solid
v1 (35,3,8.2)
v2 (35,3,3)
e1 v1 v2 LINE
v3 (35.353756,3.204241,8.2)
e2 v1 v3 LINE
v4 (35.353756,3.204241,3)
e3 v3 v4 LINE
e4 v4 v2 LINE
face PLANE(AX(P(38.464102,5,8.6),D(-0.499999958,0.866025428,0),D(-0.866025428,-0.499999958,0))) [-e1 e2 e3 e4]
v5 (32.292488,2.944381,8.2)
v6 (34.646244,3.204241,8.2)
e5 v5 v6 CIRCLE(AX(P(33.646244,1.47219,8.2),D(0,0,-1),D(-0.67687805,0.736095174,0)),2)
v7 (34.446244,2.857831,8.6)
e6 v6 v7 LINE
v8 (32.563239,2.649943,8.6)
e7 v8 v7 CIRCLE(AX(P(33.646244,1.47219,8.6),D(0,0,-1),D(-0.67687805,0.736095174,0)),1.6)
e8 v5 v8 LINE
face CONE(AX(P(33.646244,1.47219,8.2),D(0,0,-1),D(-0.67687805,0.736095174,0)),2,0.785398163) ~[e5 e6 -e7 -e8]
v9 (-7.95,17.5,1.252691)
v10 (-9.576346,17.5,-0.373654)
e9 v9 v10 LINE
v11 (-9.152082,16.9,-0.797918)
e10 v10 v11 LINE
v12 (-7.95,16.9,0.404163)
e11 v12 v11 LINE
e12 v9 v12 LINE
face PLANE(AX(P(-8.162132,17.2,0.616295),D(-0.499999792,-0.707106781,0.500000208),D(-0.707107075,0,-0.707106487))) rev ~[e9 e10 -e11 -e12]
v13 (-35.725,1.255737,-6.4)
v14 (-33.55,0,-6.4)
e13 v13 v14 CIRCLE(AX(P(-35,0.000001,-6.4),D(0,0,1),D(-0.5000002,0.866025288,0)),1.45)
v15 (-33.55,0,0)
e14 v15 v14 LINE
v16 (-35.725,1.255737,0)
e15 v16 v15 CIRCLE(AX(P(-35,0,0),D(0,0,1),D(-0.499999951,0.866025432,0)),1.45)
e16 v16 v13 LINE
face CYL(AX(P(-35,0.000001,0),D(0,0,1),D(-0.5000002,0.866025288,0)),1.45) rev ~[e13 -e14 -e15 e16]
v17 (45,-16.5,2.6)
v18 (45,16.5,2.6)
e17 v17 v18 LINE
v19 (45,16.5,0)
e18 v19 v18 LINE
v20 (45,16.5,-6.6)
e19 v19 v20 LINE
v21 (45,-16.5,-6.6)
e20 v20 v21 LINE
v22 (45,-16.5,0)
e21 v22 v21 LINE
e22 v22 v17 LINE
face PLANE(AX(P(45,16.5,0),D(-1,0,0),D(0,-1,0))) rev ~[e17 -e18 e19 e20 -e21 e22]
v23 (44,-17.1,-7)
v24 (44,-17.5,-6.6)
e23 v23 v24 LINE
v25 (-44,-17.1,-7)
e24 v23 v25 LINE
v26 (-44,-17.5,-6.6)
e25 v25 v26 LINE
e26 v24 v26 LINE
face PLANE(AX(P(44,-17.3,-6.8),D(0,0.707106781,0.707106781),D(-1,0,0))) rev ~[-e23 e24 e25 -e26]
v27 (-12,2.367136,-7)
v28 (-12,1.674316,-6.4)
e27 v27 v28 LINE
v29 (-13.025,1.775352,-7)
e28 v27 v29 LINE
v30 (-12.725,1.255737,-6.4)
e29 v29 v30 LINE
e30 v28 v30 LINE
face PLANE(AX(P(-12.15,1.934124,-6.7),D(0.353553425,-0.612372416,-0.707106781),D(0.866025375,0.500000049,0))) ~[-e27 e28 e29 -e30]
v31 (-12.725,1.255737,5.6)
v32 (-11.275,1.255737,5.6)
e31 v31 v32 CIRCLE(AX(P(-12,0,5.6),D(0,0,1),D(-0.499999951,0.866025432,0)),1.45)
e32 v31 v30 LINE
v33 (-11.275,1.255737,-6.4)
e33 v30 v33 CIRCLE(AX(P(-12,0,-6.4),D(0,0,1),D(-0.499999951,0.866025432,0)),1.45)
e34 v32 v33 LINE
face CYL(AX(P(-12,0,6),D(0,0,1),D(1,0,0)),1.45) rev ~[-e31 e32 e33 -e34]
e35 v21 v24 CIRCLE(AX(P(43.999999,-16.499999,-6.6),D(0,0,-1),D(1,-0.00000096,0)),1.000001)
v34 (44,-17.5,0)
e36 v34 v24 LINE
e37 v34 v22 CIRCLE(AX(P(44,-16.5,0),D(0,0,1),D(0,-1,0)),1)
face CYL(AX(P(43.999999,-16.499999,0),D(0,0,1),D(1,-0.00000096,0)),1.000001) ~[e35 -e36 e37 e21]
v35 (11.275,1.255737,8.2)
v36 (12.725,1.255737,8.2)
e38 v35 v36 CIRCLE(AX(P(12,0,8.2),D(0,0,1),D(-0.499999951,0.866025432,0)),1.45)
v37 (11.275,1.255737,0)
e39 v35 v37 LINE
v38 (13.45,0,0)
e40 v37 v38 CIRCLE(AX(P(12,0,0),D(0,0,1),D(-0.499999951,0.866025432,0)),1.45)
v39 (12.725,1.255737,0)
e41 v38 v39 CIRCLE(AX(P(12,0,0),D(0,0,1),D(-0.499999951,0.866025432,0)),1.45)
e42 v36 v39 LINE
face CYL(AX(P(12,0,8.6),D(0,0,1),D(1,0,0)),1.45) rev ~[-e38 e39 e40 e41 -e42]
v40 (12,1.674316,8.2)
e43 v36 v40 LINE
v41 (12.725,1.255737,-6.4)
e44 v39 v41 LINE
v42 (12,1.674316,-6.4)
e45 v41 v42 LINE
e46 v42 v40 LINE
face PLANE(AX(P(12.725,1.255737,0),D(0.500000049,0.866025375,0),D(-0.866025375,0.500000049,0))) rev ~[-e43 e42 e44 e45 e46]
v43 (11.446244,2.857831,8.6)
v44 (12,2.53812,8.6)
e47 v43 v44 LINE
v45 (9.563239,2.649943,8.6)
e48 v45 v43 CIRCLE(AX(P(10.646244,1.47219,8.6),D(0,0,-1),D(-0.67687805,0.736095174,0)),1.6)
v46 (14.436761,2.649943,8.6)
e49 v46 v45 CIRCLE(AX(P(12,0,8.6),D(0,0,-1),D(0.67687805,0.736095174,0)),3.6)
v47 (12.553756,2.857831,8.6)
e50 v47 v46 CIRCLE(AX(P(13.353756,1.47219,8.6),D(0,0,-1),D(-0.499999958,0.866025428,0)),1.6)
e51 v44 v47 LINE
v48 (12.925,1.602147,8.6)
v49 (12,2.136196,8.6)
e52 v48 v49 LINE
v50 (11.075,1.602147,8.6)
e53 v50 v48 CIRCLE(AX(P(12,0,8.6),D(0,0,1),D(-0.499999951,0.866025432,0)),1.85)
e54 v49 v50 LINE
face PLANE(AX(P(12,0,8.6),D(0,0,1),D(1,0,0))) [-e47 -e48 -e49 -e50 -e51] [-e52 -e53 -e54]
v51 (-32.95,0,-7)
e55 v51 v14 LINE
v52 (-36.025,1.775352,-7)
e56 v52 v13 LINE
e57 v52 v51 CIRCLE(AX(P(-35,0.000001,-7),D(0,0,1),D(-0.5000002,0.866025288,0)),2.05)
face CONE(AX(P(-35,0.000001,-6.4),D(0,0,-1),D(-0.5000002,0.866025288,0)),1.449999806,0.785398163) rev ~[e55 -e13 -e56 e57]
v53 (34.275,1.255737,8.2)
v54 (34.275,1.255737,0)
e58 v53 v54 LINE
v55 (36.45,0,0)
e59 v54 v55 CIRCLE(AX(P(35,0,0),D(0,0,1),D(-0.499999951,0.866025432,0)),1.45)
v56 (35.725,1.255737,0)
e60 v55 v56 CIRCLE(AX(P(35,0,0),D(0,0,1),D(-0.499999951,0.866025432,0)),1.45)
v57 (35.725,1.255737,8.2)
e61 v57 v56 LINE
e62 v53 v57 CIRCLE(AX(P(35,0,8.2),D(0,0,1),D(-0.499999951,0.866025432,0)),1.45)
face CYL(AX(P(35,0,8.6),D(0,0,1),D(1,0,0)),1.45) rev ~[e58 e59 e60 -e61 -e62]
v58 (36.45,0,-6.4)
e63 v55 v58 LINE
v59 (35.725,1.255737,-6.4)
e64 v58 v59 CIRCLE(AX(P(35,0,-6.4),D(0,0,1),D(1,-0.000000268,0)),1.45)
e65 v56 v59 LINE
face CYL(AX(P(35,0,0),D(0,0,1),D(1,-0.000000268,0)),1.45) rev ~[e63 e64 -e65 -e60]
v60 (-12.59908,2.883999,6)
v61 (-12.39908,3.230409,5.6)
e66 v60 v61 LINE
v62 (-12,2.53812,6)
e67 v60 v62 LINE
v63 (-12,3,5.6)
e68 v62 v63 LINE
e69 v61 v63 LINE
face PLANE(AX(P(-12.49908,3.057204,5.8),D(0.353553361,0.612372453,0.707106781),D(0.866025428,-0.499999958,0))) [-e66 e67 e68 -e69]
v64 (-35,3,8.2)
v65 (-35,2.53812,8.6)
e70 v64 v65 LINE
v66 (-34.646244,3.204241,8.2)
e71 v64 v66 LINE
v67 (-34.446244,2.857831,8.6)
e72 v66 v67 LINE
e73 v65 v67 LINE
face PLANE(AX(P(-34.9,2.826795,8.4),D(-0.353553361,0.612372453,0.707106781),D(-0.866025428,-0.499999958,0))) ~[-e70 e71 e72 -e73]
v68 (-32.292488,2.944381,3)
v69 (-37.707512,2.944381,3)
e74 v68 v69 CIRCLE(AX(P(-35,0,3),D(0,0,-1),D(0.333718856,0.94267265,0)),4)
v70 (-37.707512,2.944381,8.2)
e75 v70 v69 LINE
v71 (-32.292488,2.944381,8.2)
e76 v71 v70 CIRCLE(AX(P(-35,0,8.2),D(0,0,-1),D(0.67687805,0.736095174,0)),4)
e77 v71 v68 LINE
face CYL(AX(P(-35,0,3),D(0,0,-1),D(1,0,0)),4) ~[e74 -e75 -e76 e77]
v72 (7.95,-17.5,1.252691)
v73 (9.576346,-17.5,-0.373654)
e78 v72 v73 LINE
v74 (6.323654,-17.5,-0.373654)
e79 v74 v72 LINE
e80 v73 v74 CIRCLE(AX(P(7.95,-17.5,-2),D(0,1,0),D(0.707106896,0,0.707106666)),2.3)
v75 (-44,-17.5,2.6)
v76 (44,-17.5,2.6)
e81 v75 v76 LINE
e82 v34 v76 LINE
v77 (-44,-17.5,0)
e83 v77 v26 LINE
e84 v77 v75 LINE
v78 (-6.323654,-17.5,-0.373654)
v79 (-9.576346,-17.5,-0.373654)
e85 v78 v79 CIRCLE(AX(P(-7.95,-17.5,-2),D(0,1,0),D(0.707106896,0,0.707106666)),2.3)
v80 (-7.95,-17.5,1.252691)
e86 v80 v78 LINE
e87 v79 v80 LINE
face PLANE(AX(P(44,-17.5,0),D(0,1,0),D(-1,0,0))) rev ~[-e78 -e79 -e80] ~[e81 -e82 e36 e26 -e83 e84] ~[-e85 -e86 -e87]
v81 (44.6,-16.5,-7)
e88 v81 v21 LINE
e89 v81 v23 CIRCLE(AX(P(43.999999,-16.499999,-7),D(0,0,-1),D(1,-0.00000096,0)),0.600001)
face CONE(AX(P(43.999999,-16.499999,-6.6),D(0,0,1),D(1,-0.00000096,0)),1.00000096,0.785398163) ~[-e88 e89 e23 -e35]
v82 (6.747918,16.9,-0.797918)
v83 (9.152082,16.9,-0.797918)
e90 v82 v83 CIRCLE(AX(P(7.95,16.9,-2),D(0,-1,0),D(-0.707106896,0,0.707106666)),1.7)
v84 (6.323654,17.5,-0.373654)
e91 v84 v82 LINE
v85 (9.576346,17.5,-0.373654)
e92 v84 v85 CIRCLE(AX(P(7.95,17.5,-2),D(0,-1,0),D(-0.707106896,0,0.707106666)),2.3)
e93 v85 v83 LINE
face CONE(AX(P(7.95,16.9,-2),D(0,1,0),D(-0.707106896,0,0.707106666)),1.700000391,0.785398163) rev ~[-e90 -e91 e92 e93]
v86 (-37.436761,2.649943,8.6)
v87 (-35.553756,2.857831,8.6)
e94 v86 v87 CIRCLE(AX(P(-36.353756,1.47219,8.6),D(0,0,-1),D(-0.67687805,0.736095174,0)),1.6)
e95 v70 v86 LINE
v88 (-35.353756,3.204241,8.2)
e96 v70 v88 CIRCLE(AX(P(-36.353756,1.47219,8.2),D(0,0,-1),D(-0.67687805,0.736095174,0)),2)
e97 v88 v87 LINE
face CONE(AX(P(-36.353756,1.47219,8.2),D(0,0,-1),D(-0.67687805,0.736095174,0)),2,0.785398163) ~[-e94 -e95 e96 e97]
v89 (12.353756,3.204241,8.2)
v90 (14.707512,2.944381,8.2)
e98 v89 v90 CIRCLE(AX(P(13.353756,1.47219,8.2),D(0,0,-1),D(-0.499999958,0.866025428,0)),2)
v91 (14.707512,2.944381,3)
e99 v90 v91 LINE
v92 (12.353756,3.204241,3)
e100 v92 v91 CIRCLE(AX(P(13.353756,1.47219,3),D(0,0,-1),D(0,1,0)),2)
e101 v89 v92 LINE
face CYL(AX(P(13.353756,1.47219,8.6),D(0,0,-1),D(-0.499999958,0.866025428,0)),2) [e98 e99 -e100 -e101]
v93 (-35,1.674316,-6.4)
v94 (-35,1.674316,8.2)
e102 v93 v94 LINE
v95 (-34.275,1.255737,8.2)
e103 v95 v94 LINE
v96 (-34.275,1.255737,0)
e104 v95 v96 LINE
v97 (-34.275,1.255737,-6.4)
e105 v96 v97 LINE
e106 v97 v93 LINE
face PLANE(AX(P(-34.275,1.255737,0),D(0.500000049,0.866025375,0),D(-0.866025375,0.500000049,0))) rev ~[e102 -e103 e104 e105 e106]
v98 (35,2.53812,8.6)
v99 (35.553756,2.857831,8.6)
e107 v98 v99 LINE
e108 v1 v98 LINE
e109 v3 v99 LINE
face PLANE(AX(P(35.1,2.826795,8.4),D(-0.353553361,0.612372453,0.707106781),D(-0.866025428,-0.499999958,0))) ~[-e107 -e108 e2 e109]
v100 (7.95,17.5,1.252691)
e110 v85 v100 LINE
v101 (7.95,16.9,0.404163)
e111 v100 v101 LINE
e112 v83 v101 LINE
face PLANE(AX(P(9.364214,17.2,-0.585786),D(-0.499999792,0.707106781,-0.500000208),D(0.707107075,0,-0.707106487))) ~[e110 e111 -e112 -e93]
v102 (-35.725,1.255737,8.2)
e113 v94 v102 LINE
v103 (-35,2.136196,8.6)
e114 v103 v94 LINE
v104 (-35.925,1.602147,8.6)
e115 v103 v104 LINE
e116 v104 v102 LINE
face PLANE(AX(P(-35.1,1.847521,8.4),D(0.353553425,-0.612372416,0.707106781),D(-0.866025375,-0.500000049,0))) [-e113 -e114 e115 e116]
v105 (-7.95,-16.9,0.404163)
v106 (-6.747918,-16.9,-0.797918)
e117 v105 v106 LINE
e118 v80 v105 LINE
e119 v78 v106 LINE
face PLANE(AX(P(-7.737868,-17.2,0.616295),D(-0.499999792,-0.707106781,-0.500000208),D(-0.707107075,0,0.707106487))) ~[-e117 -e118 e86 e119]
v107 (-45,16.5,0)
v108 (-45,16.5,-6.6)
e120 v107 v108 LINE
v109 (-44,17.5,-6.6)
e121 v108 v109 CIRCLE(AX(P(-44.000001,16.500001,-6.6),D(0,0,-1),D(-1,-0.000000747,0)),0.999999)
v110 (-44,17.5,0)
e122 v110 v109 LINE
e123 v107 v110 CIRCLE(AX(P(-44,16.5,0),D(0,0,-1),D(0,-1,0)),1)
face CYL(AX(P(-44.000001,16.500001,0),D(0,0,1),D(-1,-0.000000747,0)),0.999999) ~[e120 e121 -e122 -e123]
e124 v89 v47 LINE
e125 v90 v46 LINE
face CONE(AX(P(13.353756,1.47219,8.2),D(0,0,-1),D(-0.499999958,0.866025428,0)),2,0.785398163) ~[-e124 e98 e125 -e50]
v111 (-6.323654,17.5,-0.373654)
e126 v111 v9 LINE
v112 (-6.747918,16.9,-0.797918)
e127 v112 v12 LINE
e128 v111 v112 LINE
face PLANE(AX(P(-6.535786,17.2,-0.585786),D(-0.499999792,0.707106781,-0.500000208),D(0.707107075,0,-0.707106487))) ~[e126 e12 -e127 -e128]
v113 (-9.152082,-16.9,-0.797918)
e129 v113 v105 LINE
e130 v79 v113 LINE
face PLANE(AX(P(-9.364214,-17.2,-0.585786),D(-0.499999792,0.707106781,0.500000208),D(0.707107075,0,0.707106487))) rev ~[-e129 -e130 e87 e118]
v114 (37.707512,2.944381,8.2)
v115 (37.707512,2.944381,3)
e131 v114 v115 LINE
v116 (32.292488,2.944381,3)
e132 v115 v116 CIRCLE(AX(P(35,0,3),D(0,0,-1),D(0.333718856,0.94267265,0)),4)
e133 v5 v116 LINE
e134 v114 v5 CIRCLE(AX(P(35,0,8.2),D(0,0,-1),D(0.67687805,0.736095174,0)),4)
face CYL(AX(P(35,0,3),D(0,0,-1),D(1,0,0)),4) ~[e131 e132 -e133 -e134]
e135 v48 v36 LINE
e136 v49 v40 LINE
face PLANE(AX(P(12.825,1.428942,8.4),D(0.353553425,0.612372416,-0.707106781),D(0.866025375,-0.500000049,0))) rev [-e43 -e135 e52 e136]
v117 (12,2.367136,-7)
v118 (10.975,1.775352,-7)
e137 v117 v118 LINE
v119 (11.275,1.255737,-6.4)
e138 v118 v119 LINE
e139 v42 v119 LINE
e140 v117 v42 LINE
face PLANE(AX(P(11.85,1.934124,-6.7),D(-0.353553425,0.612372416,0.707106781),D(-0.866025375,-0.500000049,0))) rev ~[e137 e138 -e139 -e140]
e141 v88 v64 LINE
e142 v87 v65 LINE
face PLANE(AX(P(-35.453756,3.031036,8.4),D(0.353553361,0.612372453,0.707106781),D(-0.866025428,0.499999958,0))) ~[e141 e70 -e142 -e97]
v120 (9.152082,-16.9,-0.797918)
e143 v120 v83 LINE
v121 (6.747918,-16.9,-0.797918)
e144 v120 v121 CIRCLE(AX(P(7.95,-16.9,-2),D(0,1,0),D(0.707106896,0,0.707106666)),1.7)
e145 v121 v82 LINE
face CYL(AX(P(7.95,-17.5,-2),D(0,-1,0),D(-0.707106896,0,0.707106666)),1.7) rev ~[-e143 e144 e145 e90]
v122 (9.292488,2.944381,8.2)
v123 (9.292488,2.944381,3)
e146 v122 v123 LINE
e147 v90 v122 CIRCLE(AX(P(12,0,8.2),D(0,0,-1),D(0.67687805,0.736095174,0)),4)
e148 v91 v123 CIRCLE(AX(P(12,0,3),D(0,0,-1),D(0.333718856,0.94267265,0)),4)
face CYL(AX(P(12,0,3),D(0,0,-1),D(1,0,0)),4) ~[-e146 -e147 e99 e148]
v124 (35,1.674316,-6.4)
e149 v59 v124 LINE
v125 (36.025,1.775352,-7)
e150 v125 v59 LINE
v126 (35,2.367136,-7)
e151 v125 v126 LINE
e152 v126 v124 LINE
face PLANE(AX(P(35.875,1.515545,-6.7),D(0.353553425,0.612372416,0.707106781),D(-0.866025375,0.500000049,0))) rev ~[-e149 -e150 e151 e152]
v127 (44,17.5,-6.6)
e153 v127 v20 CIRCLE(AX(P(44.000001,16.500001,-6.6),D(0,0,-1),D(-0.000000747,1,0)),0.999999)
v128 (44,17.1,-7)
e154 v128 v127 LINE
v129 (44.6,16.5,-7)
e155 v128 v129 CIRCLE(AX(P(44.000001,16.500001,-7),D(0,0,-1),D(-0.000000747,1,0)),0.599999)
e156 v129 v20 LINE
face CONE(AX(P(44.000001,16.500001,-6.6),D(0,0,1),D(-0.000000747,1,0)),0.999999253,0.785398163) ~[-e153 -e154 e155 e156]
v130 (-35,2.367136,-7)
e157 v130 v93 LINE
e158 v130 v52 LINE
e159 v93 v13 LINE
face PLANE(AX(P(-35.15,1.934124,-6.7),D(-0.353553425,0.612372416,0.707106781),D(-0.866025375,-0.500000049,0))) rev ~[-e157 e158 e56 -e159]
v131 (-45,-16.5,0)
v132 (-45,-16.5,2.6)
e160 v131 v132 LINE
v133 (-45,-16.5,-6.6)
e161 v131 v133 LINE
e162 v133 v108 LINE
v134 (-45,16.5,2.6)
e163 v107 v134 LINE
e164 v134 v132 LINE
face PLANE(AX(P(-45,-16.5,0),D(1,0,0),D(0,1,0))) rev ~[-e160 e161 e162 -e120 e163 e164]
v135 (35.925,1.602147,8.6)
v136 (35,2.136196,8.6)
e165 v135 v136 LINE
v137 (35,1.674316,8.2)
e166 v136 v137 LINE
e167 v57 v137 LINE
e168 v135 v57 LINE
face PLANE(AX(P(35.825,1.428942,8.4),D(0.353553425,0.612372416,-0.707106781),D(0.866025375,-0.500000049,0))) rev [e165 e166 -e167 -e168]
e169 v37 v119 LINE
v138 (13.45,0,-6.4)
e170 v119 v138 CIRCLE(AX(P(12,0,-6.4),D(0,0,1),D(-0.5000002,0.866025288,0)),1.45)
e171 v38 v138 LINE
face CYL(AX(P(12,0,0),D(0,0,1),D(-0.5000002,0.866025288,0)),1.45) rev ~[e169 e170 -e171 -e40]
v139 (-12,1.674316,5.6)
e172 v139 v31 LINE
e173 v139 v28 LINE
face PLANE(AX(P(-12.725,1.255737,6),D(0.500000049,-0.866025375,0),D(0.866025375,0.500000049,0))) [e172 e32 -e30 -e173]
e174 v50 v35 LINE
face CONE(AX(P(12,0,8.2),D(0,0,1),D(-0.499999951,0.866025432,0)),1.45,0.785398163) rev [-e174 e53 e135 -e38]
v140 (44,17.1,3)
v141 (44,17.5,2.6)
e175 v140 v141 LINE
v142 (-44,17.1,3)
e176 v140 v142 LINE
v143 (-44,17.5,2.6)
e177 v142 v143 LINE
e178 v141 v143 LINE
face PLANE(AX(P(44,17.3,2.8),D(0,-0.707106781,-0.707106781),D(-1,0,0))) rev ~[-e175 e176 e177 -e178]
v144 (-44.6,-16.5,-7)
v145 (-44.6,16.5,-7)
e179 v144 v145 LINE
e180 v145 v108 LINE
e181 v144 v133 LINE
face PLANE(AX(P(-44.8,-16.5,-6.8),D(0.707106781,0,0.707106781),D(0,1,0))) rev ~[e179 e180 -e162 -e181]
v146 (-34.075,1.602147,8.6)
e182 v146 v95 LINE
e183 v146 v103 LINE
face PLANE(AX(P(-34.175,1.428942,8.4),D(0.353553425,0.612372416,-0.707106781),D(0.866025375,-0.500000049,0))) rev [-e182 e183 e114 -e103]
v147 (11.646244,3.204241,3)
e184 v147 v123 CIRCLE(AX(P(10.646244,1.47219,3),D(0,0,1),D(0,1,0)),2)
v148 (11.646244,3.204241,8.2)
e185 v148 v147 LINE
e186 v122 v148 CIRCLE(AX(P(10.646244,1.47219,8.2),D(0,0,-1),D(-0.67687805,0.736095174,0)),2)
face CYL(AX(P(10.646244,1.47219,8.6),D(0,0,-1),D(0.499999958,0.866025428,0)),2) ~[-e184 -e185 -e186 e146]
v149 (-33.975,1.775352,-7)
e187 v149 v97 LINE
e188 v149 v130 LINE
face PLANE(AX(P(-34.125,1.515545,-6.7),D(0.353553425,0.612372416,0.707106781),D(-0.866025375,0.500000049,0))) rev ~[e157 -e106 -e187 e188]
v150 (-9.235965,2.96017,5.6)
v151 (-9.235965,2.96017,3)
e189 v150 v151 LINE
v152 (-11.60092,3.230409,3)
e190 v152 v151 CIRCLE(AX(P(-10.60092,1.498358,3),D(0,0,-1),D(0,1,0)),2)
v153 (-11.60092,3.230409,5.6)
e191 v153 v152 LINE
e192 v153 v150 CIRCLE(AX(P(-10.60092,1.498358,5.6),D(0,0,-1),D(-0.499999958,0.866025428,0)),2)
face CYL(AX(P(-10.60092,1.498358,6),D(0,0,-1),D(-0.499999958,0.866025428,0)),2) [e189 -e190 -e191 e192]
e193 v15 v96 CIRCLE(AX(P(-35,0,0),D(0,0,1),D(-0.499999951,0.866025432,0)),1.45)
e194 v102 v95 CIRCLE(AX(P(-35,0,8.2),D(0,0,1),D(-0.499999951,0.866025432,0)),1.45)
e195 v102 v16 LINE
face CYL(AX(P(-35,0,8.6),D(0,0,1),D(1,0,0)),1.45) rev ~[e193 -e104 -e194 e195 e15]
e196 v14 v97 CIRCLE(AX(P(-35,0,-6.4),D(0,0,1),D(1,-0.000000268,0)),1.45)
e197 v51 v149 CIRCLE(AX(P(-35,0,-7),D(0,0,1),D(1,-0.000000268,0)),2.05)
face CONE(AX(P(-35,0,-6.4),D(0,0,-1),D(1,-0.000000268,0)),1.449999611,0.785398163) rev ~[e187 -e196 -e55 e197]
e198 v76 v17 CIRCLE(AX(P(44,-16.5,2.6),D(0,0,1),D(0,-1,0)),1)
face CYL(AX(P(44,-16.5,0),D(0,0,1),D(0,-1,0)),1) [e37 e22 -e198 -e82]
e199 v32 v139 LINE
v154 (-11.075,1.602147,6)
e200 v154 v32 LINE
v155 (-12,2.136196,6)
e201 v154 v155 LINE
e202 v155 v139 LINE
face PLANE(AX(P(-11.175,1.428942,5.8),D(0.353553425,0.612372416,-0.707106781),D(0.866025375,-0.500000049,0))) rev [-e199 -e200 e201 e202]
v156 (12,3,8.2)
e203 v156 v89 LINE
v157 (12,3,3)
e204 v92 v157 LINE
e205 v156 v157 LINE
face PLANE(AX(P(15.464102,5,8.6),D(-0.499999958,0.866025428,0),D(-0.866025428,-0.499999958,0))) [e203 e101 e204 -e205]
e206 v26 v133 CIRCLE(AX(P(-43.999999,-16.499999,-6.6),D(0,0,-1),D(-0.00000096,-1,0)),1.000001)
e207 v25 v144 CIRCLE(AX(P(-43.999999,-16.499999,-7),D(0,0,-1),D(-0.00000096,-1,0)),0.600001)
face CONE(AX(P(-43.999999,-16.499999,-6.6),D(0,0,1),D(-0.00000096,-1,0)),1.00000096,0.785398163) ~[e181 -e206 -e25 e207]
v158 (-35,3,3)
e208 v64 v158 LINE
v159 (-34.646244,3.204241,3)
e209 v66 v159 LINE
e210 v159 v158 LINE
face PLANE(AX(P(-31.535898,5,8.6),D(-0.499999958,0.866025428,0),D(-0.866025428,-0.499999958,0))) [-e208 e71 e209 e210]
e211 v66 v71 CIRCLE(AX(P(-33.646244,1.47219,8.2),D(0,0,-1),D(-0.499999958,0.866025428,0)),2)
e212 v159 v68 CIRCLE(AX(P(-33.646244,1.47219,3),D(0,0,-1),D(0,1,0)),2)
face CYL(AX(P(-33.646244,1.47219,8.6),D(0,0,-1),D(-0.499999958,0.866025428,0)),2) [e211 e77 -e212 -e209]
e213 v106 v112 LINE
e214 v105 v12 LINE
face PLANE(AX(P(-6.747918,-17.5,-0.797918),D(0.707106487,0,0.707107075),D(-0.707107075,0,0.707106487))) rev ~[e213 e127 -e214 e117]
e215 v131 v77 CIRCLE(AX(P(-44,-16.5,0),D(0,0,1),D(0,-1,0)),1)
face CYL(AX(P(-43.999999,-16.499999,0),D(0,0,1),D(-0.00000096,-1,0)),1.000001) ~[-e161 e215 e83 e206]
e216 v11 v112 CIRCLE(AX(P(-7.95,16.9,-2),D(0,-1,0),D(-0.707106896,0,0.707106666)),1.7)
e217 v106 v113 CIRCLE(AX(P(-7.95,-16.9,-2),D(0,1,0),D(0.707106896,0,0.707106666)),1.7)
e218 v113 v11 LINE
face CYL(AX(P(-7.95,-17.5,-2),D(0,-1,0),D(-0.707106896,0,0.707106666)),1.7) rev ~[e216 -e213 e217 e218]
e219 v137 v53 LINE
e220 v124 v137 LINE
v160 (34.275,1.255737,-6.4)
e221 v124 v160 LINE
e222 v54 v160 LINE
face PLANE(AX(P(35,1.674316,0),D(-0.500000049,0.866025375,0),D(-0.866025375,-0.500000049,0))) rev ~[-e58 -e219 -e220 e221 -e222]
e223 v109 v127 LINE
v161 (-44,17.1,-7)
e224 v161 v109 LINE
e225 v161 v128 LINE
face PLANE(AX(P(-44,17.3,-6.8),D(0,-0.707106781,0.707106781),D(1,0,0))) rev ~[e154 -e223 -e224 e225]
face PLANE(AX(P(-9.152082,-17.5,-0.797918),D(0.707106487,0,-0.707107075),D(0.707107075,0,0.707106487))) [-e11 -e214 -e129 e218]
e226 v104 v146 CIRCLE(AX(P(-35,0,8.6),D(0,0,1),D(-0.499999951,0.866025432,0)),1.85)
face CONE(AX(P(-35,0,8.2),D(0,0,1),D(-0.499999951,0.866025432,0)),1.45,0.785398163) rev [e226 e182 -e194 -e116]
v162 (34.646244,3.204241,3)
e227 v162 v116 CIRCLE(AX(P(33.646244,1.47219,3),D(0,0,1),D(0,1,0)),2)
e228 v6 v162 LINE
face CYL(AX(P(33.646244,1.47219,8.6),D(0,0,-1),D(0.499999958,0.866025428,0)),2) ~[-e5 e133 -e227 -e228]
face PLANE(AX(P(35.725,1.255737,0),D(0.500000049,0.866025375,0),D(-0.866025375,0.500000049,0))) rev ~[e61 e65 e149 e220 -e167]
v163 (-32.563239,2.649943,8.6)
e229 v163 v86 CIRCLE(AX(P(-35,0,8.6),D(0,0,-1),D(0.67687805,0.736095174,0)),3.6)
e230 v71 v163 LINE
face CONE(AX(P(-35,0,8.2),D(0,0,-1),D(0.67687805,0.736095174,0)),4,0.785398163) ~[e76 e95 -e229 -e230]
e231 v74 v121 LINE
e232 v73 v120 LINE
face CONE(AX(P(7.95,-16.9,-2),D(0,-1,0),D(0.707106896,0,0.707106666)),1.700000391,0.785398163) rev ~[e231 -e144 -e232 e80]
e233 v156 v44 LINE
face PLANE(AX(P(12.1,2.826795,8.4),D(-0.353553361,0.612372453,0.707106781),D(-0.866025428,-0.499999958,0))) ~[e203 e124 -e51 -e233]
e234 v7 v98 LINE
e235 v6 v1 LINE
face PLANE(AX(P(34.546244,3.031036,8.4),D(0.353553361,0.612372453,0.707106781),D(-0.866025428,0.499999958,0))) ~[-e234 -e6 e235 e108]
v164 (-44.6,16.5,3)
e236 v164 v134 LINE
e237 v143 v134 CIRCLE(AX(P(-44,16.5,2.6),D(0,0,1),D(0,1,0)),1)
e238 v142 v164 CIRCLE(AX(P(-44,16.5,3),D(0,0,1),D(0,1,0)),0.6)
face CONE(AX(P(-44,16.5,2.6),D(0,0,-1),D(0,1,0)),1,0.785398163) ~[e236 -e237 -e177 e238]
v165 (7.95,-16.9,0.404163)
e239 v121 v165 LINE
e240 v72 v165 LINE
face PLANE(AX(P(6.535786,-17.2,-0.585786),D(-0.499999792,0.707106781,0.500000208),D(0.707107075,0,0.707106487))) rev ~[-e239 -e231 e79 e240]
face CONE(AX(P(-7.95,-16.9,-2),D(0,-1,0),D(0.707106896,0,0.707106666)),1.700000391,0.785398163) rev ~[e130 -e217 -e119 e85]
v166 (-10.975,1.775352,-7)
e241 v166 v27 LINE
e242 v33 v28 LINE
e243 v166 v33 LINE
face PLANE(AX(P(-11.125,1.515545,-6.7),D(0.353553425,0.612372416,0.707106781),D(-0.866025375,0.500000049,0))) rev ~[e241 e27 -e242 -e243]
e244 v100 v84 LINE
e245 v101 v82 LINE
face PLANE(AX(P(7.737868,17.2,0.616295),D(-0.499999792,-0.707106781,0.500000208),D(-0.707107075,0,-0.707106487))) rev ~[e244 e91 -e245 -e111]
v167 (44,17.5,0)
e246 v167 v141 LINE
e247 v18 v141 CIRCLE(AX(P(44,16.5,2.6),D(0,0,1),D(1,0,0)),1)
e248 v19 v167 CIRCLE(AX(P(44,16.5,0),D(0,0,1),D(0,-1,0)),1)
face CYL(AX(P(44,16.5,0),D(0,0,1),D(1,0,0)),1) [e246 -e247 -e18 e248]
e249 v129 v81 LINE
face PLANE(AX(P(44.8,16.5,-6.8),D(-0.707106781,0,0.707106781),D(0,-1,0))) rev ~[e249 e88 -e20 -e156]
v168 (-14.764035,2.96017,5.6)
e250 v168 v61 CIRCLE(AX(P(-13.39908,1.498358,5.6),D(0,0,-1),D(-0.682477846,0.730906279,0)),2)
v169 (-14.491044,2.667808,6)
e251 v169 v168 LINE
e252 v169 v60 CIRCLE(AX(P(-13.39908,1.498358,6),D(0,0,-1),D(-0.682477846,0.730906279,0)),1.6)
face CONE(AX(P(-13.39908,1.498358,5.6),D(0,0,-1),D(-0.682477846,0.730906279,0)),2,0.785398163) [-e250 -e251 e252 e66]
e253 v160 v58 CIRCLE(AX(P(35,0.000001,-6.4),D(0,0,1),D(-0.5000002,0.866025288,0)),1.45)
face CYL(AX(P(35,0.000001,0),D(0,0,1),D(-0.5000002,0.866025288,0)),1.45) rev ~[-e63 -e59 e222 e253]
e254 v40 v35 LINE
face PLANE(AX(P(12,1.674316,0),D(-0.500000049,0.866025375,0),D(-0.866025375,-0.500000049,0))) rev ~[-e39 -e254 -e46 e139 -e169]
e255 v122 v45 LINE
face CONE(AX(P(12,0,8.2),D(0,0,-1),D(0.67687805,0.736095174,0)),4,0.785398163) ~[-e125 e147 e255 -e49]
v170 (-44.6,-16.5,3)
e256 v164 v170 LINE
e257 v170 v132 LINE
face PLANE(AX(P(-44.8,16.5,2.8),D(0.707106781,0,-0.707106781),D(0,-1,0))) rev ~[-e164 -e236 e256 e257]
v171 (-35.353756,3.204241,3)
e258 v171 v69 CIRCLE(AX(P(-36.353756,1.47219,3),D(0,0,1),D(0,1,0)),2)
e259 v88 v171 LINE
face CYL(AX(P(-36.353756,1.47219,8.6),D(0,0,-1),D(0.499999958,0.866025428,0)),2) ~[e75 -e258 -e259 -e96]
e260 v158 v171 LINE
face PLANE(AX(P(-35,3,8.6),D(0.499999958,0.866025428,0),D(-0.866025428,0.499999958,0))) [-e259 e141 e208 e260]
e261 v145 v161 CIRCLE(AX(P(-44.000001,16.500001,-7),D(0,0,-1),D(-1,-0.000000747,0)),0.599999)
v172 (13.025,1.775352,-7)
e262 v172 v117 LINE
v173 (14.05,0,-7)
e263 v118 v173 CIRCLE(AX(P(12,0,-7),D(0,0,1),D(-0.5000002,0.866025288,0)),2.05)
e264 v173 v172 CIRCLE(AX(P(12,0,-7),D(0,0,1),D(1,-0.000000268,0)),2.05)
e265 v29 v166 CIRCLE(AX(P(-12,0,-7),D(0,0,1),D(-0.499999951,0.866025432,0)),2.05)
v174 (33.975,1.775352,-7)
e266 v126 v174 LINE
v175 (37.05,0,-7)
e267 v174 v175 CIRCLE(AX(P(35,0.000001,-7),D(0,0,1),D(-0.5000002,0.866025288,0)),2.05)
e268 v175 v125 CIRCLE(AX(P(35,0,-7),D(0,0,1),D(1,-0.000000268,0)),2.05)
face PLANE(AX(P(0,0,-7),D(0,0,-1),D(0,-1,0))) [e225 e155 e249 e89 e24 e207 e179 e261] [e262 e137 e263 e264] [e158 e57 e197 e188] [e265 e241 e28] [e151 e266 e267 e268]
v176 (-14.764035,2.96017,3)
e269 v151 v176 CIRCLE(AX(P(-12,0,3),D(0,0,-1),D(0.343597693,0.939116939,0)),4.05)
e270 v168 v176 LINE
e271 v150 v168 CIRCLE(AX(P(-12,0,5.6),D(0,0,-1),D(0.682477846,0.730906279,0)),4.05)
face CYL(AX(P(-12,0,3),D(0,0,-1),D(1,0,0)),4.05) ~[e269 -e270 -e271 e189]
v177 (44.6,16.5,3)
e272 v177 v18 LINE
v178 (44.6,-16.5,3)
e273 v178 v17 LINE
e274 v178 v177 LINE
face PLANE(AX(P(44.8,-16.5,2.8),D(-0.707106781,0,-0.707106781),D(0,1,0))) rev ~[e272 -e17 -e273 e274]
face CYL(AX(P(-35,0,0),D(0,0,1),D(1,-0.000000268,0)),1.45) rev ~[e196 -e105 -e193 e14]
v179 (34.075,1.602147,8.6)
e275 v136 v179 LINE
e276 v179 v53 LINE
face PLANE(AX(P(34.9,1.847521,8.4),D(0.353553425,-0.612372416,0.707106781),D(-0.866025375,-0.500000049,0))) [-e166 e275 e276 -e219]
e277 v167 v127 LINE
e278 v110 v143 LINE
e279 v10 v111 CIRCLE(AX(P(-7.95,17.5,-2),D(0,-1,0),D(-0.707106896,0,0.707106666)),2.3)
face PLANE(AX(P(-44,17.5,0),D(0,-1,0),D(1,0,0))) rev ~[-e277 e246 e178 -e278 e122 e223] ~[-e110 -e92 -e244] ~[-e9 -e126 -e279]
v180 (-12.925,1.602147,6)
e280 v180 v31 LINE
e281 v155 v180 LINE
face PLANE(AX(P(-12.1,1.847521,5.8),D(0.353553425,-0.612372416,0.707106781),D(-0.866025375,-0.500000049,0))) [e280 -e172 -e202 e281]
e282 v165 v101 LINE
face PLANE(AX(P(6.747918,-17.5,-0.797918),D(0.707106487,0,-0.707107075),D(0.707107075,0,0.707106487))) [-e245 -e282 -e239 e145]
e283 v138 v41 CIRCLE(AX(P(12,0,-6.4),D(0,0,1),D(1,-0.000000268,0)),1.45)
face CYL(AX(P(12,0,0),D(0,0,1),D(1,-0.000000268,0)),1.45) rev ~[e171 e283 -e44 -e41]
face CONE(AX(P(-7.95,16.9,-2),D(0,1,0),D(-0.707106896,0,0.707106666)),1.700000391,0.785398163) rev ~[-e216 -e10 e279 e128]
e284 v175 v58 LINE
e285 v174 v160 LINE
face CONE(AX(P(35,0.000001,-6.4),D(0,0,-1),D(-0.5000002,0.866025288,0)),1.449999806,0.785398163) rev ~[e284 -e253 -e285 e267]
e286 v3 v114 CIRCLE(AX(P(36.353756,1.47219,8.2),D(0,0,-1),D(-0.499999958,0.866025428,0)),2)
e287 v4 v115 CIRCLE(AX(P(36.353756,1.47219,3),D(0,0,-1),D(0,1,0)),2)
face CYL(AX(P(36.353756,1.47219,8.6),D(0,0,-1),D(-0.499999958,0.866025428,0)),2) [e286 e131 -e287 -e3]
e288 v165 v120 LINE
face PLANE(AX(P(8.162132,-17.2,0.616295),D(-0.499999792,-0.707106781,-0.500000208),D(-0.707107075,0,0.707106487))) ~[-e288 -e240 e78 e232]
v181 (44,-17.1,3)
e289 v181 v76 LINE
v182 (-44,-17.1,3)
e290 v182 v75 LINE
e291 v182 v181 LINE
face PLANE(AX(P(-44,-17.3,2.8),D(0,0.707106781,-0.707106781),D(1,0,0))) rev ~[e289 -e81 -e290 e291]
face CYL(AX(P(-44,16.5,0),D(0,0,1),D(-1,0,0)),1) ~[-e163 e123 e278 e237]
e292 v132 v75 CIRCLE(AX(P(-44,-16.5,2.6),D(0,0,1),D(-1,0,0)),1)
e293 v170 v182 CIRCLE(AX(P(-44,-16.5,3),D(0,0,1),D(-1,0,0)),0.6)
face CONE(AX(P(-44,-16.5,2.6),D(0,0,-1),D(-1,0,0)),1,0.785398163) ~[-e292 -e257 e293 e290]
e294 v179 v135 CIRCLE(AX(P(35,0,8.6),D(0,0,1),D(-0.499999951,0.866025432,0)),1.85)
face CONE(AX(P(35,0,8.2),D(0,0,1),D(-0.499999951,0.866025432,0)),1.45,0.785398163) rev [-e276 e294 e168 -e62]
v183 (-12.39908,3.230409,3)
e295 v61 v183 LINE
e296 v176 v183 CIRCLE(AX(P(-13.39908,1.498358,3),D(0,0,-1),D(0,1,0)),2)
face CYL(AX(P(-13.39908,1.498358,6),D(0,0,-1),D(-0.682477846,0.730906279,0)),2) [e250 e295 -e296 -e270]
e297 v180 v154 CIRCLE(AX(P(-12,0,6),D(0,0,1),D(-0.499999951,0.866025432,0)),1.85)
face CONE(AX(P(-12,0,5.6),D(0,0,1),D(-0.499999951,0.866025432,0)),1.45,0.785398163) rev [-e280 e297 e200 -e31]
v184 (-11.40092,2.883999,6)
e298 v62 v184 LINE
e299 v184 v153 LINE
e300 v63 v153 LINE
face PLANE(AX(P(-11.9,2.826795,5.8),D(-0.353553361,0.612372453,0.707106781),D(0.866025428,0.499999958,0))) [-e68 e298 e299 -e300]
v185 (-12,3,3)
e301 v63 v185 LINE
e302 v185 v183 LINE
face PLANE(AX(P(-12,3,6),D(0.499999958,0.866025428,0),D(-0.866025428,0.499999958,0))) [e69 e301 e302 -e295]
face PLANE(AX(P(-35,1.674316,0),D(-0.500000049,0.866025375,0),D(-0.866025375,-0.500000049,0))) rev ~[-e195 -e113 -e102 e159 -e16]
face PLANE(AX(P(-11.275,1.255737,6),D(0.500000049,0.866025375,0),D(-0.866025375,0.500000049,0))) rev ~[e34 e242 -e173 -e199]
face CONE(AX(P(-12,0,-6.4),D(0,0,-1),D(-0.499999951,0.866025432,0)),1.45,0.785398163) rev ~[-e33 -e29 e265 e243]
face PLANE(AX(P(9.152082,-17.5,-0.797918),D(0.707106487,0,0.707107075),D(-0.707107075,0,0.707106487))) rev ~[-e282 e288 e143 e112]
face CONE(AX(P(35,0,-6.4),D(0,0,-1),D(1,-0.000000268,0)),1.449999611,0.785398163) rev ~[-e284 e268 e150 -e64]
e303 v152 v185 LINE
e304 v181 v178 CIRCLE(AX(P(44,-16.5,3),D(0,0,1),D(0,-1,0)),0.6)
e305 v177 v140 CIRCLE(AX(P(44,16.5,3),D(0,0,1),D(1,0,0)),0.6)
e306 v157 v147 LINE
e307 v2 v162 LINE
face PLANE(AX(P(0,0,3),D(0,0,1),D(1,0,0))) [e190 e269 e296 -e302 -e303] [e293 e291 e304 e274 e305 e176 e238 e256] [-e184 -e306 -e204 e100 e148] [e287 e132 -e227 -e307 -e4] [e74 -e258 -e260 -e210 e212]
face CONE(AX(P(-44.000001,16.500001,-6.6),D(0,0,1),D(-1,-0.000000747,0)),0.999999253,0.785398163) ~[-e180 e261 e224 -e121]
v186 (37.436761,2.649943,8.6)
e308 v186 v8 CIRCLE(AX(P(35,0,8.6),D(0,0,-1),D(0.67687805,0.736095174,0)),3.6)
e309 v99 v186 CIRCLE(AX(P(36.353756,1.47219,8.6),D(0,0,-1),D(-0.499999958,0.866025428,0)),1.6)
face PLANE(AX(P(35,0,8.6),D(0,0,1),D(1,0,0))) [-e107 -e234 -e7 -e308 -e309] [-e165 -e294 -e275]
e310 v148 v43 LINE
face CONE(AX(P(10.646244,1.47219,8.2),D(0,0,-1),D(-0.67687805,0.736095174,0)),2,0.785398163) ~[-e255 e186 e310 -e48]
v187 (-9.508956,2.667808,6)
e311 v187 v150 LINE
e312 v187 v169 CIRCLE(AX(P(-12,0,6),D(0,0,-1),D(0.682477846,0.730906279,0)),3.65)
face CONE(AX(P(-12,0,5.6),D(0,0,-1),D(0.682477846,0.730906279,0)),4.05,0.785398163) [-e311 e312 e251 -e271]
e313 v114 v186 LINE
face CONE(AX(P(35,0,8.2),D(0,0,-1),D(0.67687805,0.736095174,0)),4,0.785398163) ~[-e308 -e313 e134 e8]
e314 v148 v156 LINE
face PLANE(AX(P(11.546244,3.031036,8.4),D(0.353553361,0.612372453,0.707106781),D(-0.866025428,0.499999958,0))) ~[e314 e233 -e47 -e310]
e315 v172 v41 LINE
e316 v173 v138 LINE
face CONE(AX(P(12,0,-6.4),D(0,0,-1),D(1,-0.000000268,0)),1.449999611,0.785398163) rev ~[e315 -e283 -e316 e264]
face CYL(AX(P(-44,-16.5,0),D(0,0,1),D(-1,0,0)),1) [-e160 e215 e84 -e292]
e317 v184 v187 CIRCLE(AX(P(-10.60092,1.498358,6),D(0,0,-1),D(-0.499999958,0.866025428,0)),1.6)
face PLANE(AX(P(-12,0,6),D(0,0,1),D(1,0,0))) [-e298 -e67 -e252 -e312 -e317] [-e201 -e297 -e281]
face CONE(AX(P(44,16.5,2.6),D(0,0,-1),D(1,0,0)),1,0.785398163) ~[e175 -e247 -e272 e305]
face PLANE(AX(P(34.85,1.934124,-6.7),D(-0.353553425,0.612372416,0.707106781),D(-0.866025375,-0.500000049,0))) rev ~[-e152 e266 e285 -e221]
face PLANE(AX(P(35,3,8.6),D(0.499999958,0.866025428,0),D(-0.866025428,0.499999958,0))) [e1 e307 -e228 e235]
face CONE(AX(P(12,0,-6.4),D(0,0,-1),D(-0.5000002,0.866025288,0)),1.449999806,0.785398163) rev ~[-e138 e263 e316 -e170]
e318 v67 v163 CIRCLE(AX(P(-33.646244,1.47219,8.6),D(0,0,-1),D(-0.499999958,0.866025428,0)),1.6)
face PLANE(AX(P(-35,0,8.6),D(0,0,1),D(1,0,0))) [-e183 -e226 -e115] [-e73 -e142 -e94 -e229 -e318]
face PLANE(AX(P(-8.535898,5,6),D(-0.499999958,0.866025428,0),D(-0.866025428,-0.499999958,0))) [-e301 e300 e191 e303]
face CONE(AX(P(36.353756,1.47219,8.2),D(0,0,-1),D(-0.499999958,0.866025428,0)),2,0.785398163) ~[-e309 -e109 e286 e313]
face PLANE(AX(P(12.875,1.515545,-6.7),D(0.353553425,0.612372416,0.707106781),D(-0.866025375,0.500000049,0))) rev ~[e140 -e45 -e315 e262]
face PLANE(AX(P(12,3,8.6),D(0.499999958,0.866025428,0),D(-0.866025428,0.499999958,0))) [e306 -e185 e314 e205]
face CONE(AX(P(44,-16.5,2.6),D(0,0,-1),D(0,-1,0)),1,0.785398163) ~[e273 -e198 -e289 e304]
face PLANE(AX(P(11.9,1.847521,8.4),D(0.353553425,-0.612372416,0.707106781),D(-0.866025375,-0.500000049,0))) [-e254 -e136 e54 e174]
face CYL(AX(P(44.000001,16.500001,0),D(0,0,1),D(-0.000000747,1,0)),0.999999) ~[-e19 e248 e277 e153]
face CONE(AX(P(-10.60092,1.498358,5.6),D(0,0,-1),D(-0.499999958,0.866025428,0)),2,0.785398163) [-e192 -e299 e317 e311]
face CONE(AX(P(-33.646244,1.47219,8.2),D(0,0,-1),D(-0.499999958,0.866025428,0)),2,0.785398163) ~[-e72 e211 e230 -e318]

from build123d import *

# Parameters (mm, degrees)
SKETCH_W                = 90
SKETCH_H                = 35
PAD_DEPTH               = 3
SKETCH001_R             = 10.5
HOLE_DEPTH              = 25
HOLE_TEARDROPS_DEPTH    = 25
SKETCH002_R             = 4
PAD001_DEPTH            = 5.6
POCKET_DEPTH            = 5.6
SKETCH004_R             = 1.45
HOLE001_DEPTH           = 25
HOLE001_TEARDROPS_DEPTH = 25
FILLET_R                = 2
CHAMFER_SIZE            = 0.4
FILLET001_R             = 1
PAD002_DEPTH            = 7
SKETCH005_R             = 14.71653
PAD003_DEPTH            = 10
SKETCH006_R             = 4.05
PAD004_DEPTH            = 3
POCKET001_DEPTH         = 3
SKETCH008_R             = 1.45
HOLE002_DEPTH           = 25
HOLE002_TEARDROPS_DEPTH = 25
FILLET002_R             = 2
CHAMFER001_SIZE         = 0.4
CHAMFER002_SIZE         = 0.4
CHAMFER003_SIZE         = 0.6
SKETCH009_R             = 1.7
HOLE003_DEPTH           = 87
HOLE003_TEARDROPS_DEPTH = 87
CHAMFER004_SIZE         = 0.6


with BuildPart() as part:
    # Sketch → Pad (new body)
    with BuildSketch(Plane.XY):
        Rectangle(SKETCH_W, SKETCH_H)
    extrude(amount=PAD_DEPTH)

    # Sketch001 (on Face6 of Pad) → Hole (cut)
    with BuildSketch(Plane.XY.offset(3)):
        with Locations((-12, 0)):
            Circle(SKETCH001_R)
    extrude(amount=-HOLE_DEPTH, mode=Mode.SUBTRACT)

    # Sketch001_Teardrops (on Sketch) → Hole_Teardrops (cut)
    with BuildSketch(Plane.XY.offset(3)):
        with BuildLine():
            ThreePointArc((-17.25, 9.093267), (-12, -10.5), (-6.75, 9.093267))
            Line((-6.75, 9.093267), (-12, 12.124356))
            Line((-17.25, 9.093267), (-12, 12.124356))
        make_face()
    extrude(amount=-HOLE_TEARDROPS_DEPTH, mode=Mode.SUBTRACT)

    # Sketch002 (on Face5 of Hole_Teardrops) → Pad001 (join)
    with BuildSketch(Plane.XY.offset(3)):
        with Locations((35, 0)):
            Circle(SKETCH002_R)
        with Locations((12, 0)):
            Circle(SKETCH002_R)
        with Locations((-35, 0)):
            Circle(SKETCH002_R)
    extrude(amount=PAD001_DEPTH)

    # Sketch003 (on Face13 of Pad001) → Pocket (cut)
    with BuildSketch(Plane.XY.offset(8.6)):
        Polygon((-35, 3), (-38.464102, 5), (-31.535898, 5), align=None)
        Polygon((12, 3), (8.535898, 5), (15.464102, 5), align=None)
        Polygon((38.464102, 5), (35, 3), (31.535898, 5), align=None)
    extrude(amount=-POCKET_DEPTH, mode=Mode.SUBTRACT)

    # Sketch004 (on Face17 of Pocket) → Hole001 (cut)
    with BuildSketch(Plane.XY.offset(8.6)):
        with Locations((-35, 0)):
            Circle(SKETCH004_R)
        with Locations((12, 0)):
            Circle(SKETCH004_R)
        with Locations((35, 0)):
            Circle(SKETCH004_R)
    extrude(amount=-HOLE001_DEPTH, mode=Mode.SUBTRACT)

    # Sketch004_Teardrops (on Sketch) → Hole001_Teardrops (cut)
    with BuildSketch(Plane.XY.offset(8.6)):
        with BuildLine():
            ThreePointArc((-35.725, 1.255737), (-35, -1.45), (-34.275, 1.255737))
            Line((-34.275, 1.255737), (-35, 1.674316))
            Line((-35.725, 1.255737), (-35, 1.674316))
        make_face()
        with BuildLine():
            ThreePointArc((11.275, 1.255737), (12, -1.45), (12.725, 1.255737))
            Line((12.725, 1.255737), (12, 1.674316))
            Line((11.275, 1.255737), (12, 1.674316))
        make_face()
        with BuildLine():
            ThreePointArc((34.275, 1.255737), (35, -1.45), (35.725, 1.255737))
            Line((35.725, 1.255737), (35, 1.674316))
            Line((34.275, 1.255737), (35, 1.674316))
        make_face()
    extrude(amount=-HOLE001_TEARDROPS_DEPTH, mode=Mode.SUBTRACT)

    # Fillet
    fillet_edges = [part.edges().sort_by_distance(p)[0] for p in [
        (36.334875, 3.770691, 5.8),
        (33.665125, 3.770691, 5.8),
        (13.334875, 3.770691, 5.8),
        (10.665125, 3.770691, 5.8),
        (-33.665125, 3.770691, 5.8),
        (-36.334875, 3.770691, 5.8),
    ]]
    fillet(fillet_edges, radius=FILLET_R)

    # Chamfer
    chamfer_edges = [part.edges().sort_by_distance(p)[0] for p in [
        (33.392214, -3.662653, 8.6),
        (10.392214, -3.662653, 8.6),
        (-36.607786, -3.662653, 8.6),
        (-35.725, -1.255737, 8.6),
        (11.275, -1.255737, 8.6),
        (34.275, -1.255737, 8.6),
    ]]
    chamfer(chamfer_edges, length=CHAMFER_SIZE)

    # Fillet001
    fillet001_edges = [part.edges().sort_by_distance(p)[0] for p in [
        (45, 17.5, 1.5),
        (-45, 17.5, 1.5),
        (-45, -17.5, 1.5),
        (45, -17.5, 1.5),
    ]]
    fillet(fillet001_edges, radius=FILLET001_R)

    # Fillet001 Face28 → Pad002 (add)
    with BuildSketch(Plane(origin=(1.493435, -0.023344, 0), x_dir=(0, -1, 0), z_dir=(0, 0, -1))):
        with BuildLine():
            Line((16.476656, 46.493435), (-16.523344, 46.493435))
            ThreePointArc((-16.523344, 46.493435), (-17.230451, 46.200542), (-17.523344, 45.493435))
            Line((-17.523344, 45.493435), (-17.523344, -42.506565))
            ThreePointArc((-17.523344, -42.506565), (-17.230451, -43.213672), (-16.523344, -43.506565))
            Line((-16.523344, -43.506565), (16.476656, -43.506565))
            ThreePointArc((16.476656, -43.506565), (17.183762, -43.213672), (17.476656, -42.506565))
            Line((17.476656, -42.506565), (17.476656, 45.493435))
            ThreePointArc((17.476656, 45.493435), (17.183762, 46.200542), (16.476656, 46.493435))
        make_face()
        with BuildLine():
            ThreePointArc((-0.023344, 35.043435), (-0.748344, 35.237698), (-1.279081, 35.768435))
            Line((-1.279081, 35.768435), (-1.69766, 36.493435))
            Line((-1.69766, 36.493435), (-1.279081, 37.218435))
            ThreePointArc((-1.279081, 37.218435), (1.232392, 37.218435), (-0.023344, 35.043435))
        make_face(mode=Mode.SUBTRACT)
        with BuildLine():
            ThreePointArc((-0.023344, -11.956565), (-0.748344, -11.762302), (-1.279081, -11.231565))
            Line((-1.279081, -11.231565), (-1.69766, -10.506565))
            Line((-1.69766, -10.506565), (-1.279081, -9.781565))
            ThreePointArc((-1.279081, -9.781565), (1.232392, -9.781565), (-0.023344, -11.956565))
        make_face(mode=Mode.SUBTRACT)
        with BuildLine():
            ThreePointArc((-0.023344, -34.956565), (-0.748344, -34.762302), (-1.279081, -34.231565))
            Line((-1.279081, -34.231565), (-1.69766, -33.506565))
            Line((-1.69766, -33.506565), (-1.279081, -32.781565))
            ThreePointArc((-1.279081, -32.781565), (1.232392, -32.781565), (-0.023344, -34.956565))
        make_face(mode=Mode.SUBTRACT)
        with BuildLine():
            ThreePointArc((-0.023344, 2.993435), (-5.273344, 4.400168), (-9.116611, 8.243435))
            Line((-9.116611, 8.243435), (-12.1477, 13.493435))
            Line((-12.1477, 13.493435), (-9.116611, 18.743435))
            ThreePointArc((-9.116611, 18.743435), (9.069922, 18.743435), (-0.023344, 2.993435))
        make_face(mode=Mode.SUBTRACT)
    extrude(amount=PAD002_DEPTH)

    # Sketch005 (on Face3 of Pad002) → Pad003 (join)
    with BuildSketch(Plane.XY.offset(3)):
        with Locations((-11.639154, 0)):
            Circle(SKETCH005_R)
    extrude(amount=-PAD003_DEPTH)

    # Sketch006 (on Face67 of Pad003) → Pad004 (join)
    with BuildSketch(Plane.XY.offset(3)):
        with Locations((-12, 0)):
            Circle(SKETCH006_R)
    extrude(amount=PAD004_DEPTH)

    # Sketch007 (on Face66 of Pad004) → Pocket001 (cut)
    with BuildSketch(Plane.XY.offset(6)):
        Polygon((-12, 3), (-15.464102, 5), (-8.535898, 5), align=None)
    extrude(amount=-POCKET001_DEPTH, mode=Mode.SUBTRACT)

    # Sketch008 (on Face69 of Pocket001) → Hole002 (cut)
    with BuildSketch(Plane.XY.offset(6)):
        with Locations((-12, 0)):
            Circle(SKETCH008_R)
    extrude(amount=-HOLE002_DEPTH, mode=Mode.SUBTRACT)

    # Sketch008_Teardrops (on Sketch) → Hole002_Teardrops (cut)
    with BuildSketch(Plane.XY.offset(6)):
        with BuildLine():
            ThreePointArc((-12.725, 1.255737), (-12, -1.45), (-11.275, 1.255737))
            Line((-11.275, 1.255737), (-12, 1.674316))
            Line((-12.725, 1.255737), (-12, 1.674316))
        make_face()
    extrude(amount=-HOLE002_TEARDROPS_DEPTH, mode=Mode.SUBTRACT)

    # Fillet002
    fillet002_edges = [part.edges().sort_by_distance(p)[0] for p in [
        (-10.608429, 3.803424, 4.5),
        (-13.391571, 3.803424, 4.5),
    ]]
    fillet(fillet002_edges, radius=FILLET002_R)

    # Chamfer001
    chamfer001_edges = [part.edges().sort_by_distance(p)[0] for p in [
        (-12.725, -1.255737, 6),
        (-13.613716, -3.714623, 6),
    ]]
    chamfer(chamfer001_edges, length=CHAMFER001_SIZE)

    # Chamfer002
    chamfer002_edges = [part.edges().sort_by_distance(p)[0] for p in [
        (0, -17.5, -7),
        (0, -17.5, 3),
    ]]
    chamfer(chamfer002_edges, length=CHAMFER002_SIZE)

    # Chamfer003
    chamfer003_edges = [part.edges().sort_by_distance(p)[0] for p in [
        (11.275, -1.255737, -7),
        (34.275, -1.255737, -7),
        (-12.725, -1.255737, -7),
        (-35.725, -1.255737, -7),
    ]]
    chamfer(chamfer003_edges, length=CHAMFER003_SIZE)

    # Sketch009 (on Face29 of Chamfer003) → Hole003 (cut)
    with BuildSketch(Plane.XZ.offset(17.5)):
        with Locations((-7.95, -2)):
            Circle(SKETCH009_R)
        with Locations((7.95, -2)):
            Circle(SKETCH009_R)
    extrude(amount=-HOLE003_DEPTH, mode=Mode.SUBTRACT)

    # Sketch009_Teardrops (on Sketch) → Hole003_Teardrops (cut)
    with BuildSketch(Plane.XZ.offset(17.5)):
        with BuildLine():
            ThreePointArc((-9.152082, -0.797918), (-7.95, -3.7), (-6.747918, -0.797918))
            Line((-6.747918, -0.797918), (-7.95, 0.404163))
            Line((-9.152082, -0.797918), (-7.95, 0.404163))
        make_face()
        with BuildLine():
            ThreePointArc((6.747918, -0.797918), (7.95, -3.7), (9.152082, -0.797918))
            Line((9.152082, -0.797918), (7.95, 0.404163))
            Line((6.747918, -0.797918), (7.95, 0.404163))
        make_face()
    extrude(amount=-HOLE003_TEARDROPS_DEPTH, mode=Mode.SUBTRACT)

    # Chamfer004
    chamfer004_edges = [part.edges().sort_by_distance(p)[0] for p in [
        (-7.299438, -17.5, -3.570595),
        (8.600562, -17.5, -3.570595),
        (-7.299438, 17.5, -3.570595),
        (8.600562, 17.5, -3.570595),
    ]]
    chamfer(chamfer004_edges, length=CHAMFER004_SIZE)


solid = part.part
